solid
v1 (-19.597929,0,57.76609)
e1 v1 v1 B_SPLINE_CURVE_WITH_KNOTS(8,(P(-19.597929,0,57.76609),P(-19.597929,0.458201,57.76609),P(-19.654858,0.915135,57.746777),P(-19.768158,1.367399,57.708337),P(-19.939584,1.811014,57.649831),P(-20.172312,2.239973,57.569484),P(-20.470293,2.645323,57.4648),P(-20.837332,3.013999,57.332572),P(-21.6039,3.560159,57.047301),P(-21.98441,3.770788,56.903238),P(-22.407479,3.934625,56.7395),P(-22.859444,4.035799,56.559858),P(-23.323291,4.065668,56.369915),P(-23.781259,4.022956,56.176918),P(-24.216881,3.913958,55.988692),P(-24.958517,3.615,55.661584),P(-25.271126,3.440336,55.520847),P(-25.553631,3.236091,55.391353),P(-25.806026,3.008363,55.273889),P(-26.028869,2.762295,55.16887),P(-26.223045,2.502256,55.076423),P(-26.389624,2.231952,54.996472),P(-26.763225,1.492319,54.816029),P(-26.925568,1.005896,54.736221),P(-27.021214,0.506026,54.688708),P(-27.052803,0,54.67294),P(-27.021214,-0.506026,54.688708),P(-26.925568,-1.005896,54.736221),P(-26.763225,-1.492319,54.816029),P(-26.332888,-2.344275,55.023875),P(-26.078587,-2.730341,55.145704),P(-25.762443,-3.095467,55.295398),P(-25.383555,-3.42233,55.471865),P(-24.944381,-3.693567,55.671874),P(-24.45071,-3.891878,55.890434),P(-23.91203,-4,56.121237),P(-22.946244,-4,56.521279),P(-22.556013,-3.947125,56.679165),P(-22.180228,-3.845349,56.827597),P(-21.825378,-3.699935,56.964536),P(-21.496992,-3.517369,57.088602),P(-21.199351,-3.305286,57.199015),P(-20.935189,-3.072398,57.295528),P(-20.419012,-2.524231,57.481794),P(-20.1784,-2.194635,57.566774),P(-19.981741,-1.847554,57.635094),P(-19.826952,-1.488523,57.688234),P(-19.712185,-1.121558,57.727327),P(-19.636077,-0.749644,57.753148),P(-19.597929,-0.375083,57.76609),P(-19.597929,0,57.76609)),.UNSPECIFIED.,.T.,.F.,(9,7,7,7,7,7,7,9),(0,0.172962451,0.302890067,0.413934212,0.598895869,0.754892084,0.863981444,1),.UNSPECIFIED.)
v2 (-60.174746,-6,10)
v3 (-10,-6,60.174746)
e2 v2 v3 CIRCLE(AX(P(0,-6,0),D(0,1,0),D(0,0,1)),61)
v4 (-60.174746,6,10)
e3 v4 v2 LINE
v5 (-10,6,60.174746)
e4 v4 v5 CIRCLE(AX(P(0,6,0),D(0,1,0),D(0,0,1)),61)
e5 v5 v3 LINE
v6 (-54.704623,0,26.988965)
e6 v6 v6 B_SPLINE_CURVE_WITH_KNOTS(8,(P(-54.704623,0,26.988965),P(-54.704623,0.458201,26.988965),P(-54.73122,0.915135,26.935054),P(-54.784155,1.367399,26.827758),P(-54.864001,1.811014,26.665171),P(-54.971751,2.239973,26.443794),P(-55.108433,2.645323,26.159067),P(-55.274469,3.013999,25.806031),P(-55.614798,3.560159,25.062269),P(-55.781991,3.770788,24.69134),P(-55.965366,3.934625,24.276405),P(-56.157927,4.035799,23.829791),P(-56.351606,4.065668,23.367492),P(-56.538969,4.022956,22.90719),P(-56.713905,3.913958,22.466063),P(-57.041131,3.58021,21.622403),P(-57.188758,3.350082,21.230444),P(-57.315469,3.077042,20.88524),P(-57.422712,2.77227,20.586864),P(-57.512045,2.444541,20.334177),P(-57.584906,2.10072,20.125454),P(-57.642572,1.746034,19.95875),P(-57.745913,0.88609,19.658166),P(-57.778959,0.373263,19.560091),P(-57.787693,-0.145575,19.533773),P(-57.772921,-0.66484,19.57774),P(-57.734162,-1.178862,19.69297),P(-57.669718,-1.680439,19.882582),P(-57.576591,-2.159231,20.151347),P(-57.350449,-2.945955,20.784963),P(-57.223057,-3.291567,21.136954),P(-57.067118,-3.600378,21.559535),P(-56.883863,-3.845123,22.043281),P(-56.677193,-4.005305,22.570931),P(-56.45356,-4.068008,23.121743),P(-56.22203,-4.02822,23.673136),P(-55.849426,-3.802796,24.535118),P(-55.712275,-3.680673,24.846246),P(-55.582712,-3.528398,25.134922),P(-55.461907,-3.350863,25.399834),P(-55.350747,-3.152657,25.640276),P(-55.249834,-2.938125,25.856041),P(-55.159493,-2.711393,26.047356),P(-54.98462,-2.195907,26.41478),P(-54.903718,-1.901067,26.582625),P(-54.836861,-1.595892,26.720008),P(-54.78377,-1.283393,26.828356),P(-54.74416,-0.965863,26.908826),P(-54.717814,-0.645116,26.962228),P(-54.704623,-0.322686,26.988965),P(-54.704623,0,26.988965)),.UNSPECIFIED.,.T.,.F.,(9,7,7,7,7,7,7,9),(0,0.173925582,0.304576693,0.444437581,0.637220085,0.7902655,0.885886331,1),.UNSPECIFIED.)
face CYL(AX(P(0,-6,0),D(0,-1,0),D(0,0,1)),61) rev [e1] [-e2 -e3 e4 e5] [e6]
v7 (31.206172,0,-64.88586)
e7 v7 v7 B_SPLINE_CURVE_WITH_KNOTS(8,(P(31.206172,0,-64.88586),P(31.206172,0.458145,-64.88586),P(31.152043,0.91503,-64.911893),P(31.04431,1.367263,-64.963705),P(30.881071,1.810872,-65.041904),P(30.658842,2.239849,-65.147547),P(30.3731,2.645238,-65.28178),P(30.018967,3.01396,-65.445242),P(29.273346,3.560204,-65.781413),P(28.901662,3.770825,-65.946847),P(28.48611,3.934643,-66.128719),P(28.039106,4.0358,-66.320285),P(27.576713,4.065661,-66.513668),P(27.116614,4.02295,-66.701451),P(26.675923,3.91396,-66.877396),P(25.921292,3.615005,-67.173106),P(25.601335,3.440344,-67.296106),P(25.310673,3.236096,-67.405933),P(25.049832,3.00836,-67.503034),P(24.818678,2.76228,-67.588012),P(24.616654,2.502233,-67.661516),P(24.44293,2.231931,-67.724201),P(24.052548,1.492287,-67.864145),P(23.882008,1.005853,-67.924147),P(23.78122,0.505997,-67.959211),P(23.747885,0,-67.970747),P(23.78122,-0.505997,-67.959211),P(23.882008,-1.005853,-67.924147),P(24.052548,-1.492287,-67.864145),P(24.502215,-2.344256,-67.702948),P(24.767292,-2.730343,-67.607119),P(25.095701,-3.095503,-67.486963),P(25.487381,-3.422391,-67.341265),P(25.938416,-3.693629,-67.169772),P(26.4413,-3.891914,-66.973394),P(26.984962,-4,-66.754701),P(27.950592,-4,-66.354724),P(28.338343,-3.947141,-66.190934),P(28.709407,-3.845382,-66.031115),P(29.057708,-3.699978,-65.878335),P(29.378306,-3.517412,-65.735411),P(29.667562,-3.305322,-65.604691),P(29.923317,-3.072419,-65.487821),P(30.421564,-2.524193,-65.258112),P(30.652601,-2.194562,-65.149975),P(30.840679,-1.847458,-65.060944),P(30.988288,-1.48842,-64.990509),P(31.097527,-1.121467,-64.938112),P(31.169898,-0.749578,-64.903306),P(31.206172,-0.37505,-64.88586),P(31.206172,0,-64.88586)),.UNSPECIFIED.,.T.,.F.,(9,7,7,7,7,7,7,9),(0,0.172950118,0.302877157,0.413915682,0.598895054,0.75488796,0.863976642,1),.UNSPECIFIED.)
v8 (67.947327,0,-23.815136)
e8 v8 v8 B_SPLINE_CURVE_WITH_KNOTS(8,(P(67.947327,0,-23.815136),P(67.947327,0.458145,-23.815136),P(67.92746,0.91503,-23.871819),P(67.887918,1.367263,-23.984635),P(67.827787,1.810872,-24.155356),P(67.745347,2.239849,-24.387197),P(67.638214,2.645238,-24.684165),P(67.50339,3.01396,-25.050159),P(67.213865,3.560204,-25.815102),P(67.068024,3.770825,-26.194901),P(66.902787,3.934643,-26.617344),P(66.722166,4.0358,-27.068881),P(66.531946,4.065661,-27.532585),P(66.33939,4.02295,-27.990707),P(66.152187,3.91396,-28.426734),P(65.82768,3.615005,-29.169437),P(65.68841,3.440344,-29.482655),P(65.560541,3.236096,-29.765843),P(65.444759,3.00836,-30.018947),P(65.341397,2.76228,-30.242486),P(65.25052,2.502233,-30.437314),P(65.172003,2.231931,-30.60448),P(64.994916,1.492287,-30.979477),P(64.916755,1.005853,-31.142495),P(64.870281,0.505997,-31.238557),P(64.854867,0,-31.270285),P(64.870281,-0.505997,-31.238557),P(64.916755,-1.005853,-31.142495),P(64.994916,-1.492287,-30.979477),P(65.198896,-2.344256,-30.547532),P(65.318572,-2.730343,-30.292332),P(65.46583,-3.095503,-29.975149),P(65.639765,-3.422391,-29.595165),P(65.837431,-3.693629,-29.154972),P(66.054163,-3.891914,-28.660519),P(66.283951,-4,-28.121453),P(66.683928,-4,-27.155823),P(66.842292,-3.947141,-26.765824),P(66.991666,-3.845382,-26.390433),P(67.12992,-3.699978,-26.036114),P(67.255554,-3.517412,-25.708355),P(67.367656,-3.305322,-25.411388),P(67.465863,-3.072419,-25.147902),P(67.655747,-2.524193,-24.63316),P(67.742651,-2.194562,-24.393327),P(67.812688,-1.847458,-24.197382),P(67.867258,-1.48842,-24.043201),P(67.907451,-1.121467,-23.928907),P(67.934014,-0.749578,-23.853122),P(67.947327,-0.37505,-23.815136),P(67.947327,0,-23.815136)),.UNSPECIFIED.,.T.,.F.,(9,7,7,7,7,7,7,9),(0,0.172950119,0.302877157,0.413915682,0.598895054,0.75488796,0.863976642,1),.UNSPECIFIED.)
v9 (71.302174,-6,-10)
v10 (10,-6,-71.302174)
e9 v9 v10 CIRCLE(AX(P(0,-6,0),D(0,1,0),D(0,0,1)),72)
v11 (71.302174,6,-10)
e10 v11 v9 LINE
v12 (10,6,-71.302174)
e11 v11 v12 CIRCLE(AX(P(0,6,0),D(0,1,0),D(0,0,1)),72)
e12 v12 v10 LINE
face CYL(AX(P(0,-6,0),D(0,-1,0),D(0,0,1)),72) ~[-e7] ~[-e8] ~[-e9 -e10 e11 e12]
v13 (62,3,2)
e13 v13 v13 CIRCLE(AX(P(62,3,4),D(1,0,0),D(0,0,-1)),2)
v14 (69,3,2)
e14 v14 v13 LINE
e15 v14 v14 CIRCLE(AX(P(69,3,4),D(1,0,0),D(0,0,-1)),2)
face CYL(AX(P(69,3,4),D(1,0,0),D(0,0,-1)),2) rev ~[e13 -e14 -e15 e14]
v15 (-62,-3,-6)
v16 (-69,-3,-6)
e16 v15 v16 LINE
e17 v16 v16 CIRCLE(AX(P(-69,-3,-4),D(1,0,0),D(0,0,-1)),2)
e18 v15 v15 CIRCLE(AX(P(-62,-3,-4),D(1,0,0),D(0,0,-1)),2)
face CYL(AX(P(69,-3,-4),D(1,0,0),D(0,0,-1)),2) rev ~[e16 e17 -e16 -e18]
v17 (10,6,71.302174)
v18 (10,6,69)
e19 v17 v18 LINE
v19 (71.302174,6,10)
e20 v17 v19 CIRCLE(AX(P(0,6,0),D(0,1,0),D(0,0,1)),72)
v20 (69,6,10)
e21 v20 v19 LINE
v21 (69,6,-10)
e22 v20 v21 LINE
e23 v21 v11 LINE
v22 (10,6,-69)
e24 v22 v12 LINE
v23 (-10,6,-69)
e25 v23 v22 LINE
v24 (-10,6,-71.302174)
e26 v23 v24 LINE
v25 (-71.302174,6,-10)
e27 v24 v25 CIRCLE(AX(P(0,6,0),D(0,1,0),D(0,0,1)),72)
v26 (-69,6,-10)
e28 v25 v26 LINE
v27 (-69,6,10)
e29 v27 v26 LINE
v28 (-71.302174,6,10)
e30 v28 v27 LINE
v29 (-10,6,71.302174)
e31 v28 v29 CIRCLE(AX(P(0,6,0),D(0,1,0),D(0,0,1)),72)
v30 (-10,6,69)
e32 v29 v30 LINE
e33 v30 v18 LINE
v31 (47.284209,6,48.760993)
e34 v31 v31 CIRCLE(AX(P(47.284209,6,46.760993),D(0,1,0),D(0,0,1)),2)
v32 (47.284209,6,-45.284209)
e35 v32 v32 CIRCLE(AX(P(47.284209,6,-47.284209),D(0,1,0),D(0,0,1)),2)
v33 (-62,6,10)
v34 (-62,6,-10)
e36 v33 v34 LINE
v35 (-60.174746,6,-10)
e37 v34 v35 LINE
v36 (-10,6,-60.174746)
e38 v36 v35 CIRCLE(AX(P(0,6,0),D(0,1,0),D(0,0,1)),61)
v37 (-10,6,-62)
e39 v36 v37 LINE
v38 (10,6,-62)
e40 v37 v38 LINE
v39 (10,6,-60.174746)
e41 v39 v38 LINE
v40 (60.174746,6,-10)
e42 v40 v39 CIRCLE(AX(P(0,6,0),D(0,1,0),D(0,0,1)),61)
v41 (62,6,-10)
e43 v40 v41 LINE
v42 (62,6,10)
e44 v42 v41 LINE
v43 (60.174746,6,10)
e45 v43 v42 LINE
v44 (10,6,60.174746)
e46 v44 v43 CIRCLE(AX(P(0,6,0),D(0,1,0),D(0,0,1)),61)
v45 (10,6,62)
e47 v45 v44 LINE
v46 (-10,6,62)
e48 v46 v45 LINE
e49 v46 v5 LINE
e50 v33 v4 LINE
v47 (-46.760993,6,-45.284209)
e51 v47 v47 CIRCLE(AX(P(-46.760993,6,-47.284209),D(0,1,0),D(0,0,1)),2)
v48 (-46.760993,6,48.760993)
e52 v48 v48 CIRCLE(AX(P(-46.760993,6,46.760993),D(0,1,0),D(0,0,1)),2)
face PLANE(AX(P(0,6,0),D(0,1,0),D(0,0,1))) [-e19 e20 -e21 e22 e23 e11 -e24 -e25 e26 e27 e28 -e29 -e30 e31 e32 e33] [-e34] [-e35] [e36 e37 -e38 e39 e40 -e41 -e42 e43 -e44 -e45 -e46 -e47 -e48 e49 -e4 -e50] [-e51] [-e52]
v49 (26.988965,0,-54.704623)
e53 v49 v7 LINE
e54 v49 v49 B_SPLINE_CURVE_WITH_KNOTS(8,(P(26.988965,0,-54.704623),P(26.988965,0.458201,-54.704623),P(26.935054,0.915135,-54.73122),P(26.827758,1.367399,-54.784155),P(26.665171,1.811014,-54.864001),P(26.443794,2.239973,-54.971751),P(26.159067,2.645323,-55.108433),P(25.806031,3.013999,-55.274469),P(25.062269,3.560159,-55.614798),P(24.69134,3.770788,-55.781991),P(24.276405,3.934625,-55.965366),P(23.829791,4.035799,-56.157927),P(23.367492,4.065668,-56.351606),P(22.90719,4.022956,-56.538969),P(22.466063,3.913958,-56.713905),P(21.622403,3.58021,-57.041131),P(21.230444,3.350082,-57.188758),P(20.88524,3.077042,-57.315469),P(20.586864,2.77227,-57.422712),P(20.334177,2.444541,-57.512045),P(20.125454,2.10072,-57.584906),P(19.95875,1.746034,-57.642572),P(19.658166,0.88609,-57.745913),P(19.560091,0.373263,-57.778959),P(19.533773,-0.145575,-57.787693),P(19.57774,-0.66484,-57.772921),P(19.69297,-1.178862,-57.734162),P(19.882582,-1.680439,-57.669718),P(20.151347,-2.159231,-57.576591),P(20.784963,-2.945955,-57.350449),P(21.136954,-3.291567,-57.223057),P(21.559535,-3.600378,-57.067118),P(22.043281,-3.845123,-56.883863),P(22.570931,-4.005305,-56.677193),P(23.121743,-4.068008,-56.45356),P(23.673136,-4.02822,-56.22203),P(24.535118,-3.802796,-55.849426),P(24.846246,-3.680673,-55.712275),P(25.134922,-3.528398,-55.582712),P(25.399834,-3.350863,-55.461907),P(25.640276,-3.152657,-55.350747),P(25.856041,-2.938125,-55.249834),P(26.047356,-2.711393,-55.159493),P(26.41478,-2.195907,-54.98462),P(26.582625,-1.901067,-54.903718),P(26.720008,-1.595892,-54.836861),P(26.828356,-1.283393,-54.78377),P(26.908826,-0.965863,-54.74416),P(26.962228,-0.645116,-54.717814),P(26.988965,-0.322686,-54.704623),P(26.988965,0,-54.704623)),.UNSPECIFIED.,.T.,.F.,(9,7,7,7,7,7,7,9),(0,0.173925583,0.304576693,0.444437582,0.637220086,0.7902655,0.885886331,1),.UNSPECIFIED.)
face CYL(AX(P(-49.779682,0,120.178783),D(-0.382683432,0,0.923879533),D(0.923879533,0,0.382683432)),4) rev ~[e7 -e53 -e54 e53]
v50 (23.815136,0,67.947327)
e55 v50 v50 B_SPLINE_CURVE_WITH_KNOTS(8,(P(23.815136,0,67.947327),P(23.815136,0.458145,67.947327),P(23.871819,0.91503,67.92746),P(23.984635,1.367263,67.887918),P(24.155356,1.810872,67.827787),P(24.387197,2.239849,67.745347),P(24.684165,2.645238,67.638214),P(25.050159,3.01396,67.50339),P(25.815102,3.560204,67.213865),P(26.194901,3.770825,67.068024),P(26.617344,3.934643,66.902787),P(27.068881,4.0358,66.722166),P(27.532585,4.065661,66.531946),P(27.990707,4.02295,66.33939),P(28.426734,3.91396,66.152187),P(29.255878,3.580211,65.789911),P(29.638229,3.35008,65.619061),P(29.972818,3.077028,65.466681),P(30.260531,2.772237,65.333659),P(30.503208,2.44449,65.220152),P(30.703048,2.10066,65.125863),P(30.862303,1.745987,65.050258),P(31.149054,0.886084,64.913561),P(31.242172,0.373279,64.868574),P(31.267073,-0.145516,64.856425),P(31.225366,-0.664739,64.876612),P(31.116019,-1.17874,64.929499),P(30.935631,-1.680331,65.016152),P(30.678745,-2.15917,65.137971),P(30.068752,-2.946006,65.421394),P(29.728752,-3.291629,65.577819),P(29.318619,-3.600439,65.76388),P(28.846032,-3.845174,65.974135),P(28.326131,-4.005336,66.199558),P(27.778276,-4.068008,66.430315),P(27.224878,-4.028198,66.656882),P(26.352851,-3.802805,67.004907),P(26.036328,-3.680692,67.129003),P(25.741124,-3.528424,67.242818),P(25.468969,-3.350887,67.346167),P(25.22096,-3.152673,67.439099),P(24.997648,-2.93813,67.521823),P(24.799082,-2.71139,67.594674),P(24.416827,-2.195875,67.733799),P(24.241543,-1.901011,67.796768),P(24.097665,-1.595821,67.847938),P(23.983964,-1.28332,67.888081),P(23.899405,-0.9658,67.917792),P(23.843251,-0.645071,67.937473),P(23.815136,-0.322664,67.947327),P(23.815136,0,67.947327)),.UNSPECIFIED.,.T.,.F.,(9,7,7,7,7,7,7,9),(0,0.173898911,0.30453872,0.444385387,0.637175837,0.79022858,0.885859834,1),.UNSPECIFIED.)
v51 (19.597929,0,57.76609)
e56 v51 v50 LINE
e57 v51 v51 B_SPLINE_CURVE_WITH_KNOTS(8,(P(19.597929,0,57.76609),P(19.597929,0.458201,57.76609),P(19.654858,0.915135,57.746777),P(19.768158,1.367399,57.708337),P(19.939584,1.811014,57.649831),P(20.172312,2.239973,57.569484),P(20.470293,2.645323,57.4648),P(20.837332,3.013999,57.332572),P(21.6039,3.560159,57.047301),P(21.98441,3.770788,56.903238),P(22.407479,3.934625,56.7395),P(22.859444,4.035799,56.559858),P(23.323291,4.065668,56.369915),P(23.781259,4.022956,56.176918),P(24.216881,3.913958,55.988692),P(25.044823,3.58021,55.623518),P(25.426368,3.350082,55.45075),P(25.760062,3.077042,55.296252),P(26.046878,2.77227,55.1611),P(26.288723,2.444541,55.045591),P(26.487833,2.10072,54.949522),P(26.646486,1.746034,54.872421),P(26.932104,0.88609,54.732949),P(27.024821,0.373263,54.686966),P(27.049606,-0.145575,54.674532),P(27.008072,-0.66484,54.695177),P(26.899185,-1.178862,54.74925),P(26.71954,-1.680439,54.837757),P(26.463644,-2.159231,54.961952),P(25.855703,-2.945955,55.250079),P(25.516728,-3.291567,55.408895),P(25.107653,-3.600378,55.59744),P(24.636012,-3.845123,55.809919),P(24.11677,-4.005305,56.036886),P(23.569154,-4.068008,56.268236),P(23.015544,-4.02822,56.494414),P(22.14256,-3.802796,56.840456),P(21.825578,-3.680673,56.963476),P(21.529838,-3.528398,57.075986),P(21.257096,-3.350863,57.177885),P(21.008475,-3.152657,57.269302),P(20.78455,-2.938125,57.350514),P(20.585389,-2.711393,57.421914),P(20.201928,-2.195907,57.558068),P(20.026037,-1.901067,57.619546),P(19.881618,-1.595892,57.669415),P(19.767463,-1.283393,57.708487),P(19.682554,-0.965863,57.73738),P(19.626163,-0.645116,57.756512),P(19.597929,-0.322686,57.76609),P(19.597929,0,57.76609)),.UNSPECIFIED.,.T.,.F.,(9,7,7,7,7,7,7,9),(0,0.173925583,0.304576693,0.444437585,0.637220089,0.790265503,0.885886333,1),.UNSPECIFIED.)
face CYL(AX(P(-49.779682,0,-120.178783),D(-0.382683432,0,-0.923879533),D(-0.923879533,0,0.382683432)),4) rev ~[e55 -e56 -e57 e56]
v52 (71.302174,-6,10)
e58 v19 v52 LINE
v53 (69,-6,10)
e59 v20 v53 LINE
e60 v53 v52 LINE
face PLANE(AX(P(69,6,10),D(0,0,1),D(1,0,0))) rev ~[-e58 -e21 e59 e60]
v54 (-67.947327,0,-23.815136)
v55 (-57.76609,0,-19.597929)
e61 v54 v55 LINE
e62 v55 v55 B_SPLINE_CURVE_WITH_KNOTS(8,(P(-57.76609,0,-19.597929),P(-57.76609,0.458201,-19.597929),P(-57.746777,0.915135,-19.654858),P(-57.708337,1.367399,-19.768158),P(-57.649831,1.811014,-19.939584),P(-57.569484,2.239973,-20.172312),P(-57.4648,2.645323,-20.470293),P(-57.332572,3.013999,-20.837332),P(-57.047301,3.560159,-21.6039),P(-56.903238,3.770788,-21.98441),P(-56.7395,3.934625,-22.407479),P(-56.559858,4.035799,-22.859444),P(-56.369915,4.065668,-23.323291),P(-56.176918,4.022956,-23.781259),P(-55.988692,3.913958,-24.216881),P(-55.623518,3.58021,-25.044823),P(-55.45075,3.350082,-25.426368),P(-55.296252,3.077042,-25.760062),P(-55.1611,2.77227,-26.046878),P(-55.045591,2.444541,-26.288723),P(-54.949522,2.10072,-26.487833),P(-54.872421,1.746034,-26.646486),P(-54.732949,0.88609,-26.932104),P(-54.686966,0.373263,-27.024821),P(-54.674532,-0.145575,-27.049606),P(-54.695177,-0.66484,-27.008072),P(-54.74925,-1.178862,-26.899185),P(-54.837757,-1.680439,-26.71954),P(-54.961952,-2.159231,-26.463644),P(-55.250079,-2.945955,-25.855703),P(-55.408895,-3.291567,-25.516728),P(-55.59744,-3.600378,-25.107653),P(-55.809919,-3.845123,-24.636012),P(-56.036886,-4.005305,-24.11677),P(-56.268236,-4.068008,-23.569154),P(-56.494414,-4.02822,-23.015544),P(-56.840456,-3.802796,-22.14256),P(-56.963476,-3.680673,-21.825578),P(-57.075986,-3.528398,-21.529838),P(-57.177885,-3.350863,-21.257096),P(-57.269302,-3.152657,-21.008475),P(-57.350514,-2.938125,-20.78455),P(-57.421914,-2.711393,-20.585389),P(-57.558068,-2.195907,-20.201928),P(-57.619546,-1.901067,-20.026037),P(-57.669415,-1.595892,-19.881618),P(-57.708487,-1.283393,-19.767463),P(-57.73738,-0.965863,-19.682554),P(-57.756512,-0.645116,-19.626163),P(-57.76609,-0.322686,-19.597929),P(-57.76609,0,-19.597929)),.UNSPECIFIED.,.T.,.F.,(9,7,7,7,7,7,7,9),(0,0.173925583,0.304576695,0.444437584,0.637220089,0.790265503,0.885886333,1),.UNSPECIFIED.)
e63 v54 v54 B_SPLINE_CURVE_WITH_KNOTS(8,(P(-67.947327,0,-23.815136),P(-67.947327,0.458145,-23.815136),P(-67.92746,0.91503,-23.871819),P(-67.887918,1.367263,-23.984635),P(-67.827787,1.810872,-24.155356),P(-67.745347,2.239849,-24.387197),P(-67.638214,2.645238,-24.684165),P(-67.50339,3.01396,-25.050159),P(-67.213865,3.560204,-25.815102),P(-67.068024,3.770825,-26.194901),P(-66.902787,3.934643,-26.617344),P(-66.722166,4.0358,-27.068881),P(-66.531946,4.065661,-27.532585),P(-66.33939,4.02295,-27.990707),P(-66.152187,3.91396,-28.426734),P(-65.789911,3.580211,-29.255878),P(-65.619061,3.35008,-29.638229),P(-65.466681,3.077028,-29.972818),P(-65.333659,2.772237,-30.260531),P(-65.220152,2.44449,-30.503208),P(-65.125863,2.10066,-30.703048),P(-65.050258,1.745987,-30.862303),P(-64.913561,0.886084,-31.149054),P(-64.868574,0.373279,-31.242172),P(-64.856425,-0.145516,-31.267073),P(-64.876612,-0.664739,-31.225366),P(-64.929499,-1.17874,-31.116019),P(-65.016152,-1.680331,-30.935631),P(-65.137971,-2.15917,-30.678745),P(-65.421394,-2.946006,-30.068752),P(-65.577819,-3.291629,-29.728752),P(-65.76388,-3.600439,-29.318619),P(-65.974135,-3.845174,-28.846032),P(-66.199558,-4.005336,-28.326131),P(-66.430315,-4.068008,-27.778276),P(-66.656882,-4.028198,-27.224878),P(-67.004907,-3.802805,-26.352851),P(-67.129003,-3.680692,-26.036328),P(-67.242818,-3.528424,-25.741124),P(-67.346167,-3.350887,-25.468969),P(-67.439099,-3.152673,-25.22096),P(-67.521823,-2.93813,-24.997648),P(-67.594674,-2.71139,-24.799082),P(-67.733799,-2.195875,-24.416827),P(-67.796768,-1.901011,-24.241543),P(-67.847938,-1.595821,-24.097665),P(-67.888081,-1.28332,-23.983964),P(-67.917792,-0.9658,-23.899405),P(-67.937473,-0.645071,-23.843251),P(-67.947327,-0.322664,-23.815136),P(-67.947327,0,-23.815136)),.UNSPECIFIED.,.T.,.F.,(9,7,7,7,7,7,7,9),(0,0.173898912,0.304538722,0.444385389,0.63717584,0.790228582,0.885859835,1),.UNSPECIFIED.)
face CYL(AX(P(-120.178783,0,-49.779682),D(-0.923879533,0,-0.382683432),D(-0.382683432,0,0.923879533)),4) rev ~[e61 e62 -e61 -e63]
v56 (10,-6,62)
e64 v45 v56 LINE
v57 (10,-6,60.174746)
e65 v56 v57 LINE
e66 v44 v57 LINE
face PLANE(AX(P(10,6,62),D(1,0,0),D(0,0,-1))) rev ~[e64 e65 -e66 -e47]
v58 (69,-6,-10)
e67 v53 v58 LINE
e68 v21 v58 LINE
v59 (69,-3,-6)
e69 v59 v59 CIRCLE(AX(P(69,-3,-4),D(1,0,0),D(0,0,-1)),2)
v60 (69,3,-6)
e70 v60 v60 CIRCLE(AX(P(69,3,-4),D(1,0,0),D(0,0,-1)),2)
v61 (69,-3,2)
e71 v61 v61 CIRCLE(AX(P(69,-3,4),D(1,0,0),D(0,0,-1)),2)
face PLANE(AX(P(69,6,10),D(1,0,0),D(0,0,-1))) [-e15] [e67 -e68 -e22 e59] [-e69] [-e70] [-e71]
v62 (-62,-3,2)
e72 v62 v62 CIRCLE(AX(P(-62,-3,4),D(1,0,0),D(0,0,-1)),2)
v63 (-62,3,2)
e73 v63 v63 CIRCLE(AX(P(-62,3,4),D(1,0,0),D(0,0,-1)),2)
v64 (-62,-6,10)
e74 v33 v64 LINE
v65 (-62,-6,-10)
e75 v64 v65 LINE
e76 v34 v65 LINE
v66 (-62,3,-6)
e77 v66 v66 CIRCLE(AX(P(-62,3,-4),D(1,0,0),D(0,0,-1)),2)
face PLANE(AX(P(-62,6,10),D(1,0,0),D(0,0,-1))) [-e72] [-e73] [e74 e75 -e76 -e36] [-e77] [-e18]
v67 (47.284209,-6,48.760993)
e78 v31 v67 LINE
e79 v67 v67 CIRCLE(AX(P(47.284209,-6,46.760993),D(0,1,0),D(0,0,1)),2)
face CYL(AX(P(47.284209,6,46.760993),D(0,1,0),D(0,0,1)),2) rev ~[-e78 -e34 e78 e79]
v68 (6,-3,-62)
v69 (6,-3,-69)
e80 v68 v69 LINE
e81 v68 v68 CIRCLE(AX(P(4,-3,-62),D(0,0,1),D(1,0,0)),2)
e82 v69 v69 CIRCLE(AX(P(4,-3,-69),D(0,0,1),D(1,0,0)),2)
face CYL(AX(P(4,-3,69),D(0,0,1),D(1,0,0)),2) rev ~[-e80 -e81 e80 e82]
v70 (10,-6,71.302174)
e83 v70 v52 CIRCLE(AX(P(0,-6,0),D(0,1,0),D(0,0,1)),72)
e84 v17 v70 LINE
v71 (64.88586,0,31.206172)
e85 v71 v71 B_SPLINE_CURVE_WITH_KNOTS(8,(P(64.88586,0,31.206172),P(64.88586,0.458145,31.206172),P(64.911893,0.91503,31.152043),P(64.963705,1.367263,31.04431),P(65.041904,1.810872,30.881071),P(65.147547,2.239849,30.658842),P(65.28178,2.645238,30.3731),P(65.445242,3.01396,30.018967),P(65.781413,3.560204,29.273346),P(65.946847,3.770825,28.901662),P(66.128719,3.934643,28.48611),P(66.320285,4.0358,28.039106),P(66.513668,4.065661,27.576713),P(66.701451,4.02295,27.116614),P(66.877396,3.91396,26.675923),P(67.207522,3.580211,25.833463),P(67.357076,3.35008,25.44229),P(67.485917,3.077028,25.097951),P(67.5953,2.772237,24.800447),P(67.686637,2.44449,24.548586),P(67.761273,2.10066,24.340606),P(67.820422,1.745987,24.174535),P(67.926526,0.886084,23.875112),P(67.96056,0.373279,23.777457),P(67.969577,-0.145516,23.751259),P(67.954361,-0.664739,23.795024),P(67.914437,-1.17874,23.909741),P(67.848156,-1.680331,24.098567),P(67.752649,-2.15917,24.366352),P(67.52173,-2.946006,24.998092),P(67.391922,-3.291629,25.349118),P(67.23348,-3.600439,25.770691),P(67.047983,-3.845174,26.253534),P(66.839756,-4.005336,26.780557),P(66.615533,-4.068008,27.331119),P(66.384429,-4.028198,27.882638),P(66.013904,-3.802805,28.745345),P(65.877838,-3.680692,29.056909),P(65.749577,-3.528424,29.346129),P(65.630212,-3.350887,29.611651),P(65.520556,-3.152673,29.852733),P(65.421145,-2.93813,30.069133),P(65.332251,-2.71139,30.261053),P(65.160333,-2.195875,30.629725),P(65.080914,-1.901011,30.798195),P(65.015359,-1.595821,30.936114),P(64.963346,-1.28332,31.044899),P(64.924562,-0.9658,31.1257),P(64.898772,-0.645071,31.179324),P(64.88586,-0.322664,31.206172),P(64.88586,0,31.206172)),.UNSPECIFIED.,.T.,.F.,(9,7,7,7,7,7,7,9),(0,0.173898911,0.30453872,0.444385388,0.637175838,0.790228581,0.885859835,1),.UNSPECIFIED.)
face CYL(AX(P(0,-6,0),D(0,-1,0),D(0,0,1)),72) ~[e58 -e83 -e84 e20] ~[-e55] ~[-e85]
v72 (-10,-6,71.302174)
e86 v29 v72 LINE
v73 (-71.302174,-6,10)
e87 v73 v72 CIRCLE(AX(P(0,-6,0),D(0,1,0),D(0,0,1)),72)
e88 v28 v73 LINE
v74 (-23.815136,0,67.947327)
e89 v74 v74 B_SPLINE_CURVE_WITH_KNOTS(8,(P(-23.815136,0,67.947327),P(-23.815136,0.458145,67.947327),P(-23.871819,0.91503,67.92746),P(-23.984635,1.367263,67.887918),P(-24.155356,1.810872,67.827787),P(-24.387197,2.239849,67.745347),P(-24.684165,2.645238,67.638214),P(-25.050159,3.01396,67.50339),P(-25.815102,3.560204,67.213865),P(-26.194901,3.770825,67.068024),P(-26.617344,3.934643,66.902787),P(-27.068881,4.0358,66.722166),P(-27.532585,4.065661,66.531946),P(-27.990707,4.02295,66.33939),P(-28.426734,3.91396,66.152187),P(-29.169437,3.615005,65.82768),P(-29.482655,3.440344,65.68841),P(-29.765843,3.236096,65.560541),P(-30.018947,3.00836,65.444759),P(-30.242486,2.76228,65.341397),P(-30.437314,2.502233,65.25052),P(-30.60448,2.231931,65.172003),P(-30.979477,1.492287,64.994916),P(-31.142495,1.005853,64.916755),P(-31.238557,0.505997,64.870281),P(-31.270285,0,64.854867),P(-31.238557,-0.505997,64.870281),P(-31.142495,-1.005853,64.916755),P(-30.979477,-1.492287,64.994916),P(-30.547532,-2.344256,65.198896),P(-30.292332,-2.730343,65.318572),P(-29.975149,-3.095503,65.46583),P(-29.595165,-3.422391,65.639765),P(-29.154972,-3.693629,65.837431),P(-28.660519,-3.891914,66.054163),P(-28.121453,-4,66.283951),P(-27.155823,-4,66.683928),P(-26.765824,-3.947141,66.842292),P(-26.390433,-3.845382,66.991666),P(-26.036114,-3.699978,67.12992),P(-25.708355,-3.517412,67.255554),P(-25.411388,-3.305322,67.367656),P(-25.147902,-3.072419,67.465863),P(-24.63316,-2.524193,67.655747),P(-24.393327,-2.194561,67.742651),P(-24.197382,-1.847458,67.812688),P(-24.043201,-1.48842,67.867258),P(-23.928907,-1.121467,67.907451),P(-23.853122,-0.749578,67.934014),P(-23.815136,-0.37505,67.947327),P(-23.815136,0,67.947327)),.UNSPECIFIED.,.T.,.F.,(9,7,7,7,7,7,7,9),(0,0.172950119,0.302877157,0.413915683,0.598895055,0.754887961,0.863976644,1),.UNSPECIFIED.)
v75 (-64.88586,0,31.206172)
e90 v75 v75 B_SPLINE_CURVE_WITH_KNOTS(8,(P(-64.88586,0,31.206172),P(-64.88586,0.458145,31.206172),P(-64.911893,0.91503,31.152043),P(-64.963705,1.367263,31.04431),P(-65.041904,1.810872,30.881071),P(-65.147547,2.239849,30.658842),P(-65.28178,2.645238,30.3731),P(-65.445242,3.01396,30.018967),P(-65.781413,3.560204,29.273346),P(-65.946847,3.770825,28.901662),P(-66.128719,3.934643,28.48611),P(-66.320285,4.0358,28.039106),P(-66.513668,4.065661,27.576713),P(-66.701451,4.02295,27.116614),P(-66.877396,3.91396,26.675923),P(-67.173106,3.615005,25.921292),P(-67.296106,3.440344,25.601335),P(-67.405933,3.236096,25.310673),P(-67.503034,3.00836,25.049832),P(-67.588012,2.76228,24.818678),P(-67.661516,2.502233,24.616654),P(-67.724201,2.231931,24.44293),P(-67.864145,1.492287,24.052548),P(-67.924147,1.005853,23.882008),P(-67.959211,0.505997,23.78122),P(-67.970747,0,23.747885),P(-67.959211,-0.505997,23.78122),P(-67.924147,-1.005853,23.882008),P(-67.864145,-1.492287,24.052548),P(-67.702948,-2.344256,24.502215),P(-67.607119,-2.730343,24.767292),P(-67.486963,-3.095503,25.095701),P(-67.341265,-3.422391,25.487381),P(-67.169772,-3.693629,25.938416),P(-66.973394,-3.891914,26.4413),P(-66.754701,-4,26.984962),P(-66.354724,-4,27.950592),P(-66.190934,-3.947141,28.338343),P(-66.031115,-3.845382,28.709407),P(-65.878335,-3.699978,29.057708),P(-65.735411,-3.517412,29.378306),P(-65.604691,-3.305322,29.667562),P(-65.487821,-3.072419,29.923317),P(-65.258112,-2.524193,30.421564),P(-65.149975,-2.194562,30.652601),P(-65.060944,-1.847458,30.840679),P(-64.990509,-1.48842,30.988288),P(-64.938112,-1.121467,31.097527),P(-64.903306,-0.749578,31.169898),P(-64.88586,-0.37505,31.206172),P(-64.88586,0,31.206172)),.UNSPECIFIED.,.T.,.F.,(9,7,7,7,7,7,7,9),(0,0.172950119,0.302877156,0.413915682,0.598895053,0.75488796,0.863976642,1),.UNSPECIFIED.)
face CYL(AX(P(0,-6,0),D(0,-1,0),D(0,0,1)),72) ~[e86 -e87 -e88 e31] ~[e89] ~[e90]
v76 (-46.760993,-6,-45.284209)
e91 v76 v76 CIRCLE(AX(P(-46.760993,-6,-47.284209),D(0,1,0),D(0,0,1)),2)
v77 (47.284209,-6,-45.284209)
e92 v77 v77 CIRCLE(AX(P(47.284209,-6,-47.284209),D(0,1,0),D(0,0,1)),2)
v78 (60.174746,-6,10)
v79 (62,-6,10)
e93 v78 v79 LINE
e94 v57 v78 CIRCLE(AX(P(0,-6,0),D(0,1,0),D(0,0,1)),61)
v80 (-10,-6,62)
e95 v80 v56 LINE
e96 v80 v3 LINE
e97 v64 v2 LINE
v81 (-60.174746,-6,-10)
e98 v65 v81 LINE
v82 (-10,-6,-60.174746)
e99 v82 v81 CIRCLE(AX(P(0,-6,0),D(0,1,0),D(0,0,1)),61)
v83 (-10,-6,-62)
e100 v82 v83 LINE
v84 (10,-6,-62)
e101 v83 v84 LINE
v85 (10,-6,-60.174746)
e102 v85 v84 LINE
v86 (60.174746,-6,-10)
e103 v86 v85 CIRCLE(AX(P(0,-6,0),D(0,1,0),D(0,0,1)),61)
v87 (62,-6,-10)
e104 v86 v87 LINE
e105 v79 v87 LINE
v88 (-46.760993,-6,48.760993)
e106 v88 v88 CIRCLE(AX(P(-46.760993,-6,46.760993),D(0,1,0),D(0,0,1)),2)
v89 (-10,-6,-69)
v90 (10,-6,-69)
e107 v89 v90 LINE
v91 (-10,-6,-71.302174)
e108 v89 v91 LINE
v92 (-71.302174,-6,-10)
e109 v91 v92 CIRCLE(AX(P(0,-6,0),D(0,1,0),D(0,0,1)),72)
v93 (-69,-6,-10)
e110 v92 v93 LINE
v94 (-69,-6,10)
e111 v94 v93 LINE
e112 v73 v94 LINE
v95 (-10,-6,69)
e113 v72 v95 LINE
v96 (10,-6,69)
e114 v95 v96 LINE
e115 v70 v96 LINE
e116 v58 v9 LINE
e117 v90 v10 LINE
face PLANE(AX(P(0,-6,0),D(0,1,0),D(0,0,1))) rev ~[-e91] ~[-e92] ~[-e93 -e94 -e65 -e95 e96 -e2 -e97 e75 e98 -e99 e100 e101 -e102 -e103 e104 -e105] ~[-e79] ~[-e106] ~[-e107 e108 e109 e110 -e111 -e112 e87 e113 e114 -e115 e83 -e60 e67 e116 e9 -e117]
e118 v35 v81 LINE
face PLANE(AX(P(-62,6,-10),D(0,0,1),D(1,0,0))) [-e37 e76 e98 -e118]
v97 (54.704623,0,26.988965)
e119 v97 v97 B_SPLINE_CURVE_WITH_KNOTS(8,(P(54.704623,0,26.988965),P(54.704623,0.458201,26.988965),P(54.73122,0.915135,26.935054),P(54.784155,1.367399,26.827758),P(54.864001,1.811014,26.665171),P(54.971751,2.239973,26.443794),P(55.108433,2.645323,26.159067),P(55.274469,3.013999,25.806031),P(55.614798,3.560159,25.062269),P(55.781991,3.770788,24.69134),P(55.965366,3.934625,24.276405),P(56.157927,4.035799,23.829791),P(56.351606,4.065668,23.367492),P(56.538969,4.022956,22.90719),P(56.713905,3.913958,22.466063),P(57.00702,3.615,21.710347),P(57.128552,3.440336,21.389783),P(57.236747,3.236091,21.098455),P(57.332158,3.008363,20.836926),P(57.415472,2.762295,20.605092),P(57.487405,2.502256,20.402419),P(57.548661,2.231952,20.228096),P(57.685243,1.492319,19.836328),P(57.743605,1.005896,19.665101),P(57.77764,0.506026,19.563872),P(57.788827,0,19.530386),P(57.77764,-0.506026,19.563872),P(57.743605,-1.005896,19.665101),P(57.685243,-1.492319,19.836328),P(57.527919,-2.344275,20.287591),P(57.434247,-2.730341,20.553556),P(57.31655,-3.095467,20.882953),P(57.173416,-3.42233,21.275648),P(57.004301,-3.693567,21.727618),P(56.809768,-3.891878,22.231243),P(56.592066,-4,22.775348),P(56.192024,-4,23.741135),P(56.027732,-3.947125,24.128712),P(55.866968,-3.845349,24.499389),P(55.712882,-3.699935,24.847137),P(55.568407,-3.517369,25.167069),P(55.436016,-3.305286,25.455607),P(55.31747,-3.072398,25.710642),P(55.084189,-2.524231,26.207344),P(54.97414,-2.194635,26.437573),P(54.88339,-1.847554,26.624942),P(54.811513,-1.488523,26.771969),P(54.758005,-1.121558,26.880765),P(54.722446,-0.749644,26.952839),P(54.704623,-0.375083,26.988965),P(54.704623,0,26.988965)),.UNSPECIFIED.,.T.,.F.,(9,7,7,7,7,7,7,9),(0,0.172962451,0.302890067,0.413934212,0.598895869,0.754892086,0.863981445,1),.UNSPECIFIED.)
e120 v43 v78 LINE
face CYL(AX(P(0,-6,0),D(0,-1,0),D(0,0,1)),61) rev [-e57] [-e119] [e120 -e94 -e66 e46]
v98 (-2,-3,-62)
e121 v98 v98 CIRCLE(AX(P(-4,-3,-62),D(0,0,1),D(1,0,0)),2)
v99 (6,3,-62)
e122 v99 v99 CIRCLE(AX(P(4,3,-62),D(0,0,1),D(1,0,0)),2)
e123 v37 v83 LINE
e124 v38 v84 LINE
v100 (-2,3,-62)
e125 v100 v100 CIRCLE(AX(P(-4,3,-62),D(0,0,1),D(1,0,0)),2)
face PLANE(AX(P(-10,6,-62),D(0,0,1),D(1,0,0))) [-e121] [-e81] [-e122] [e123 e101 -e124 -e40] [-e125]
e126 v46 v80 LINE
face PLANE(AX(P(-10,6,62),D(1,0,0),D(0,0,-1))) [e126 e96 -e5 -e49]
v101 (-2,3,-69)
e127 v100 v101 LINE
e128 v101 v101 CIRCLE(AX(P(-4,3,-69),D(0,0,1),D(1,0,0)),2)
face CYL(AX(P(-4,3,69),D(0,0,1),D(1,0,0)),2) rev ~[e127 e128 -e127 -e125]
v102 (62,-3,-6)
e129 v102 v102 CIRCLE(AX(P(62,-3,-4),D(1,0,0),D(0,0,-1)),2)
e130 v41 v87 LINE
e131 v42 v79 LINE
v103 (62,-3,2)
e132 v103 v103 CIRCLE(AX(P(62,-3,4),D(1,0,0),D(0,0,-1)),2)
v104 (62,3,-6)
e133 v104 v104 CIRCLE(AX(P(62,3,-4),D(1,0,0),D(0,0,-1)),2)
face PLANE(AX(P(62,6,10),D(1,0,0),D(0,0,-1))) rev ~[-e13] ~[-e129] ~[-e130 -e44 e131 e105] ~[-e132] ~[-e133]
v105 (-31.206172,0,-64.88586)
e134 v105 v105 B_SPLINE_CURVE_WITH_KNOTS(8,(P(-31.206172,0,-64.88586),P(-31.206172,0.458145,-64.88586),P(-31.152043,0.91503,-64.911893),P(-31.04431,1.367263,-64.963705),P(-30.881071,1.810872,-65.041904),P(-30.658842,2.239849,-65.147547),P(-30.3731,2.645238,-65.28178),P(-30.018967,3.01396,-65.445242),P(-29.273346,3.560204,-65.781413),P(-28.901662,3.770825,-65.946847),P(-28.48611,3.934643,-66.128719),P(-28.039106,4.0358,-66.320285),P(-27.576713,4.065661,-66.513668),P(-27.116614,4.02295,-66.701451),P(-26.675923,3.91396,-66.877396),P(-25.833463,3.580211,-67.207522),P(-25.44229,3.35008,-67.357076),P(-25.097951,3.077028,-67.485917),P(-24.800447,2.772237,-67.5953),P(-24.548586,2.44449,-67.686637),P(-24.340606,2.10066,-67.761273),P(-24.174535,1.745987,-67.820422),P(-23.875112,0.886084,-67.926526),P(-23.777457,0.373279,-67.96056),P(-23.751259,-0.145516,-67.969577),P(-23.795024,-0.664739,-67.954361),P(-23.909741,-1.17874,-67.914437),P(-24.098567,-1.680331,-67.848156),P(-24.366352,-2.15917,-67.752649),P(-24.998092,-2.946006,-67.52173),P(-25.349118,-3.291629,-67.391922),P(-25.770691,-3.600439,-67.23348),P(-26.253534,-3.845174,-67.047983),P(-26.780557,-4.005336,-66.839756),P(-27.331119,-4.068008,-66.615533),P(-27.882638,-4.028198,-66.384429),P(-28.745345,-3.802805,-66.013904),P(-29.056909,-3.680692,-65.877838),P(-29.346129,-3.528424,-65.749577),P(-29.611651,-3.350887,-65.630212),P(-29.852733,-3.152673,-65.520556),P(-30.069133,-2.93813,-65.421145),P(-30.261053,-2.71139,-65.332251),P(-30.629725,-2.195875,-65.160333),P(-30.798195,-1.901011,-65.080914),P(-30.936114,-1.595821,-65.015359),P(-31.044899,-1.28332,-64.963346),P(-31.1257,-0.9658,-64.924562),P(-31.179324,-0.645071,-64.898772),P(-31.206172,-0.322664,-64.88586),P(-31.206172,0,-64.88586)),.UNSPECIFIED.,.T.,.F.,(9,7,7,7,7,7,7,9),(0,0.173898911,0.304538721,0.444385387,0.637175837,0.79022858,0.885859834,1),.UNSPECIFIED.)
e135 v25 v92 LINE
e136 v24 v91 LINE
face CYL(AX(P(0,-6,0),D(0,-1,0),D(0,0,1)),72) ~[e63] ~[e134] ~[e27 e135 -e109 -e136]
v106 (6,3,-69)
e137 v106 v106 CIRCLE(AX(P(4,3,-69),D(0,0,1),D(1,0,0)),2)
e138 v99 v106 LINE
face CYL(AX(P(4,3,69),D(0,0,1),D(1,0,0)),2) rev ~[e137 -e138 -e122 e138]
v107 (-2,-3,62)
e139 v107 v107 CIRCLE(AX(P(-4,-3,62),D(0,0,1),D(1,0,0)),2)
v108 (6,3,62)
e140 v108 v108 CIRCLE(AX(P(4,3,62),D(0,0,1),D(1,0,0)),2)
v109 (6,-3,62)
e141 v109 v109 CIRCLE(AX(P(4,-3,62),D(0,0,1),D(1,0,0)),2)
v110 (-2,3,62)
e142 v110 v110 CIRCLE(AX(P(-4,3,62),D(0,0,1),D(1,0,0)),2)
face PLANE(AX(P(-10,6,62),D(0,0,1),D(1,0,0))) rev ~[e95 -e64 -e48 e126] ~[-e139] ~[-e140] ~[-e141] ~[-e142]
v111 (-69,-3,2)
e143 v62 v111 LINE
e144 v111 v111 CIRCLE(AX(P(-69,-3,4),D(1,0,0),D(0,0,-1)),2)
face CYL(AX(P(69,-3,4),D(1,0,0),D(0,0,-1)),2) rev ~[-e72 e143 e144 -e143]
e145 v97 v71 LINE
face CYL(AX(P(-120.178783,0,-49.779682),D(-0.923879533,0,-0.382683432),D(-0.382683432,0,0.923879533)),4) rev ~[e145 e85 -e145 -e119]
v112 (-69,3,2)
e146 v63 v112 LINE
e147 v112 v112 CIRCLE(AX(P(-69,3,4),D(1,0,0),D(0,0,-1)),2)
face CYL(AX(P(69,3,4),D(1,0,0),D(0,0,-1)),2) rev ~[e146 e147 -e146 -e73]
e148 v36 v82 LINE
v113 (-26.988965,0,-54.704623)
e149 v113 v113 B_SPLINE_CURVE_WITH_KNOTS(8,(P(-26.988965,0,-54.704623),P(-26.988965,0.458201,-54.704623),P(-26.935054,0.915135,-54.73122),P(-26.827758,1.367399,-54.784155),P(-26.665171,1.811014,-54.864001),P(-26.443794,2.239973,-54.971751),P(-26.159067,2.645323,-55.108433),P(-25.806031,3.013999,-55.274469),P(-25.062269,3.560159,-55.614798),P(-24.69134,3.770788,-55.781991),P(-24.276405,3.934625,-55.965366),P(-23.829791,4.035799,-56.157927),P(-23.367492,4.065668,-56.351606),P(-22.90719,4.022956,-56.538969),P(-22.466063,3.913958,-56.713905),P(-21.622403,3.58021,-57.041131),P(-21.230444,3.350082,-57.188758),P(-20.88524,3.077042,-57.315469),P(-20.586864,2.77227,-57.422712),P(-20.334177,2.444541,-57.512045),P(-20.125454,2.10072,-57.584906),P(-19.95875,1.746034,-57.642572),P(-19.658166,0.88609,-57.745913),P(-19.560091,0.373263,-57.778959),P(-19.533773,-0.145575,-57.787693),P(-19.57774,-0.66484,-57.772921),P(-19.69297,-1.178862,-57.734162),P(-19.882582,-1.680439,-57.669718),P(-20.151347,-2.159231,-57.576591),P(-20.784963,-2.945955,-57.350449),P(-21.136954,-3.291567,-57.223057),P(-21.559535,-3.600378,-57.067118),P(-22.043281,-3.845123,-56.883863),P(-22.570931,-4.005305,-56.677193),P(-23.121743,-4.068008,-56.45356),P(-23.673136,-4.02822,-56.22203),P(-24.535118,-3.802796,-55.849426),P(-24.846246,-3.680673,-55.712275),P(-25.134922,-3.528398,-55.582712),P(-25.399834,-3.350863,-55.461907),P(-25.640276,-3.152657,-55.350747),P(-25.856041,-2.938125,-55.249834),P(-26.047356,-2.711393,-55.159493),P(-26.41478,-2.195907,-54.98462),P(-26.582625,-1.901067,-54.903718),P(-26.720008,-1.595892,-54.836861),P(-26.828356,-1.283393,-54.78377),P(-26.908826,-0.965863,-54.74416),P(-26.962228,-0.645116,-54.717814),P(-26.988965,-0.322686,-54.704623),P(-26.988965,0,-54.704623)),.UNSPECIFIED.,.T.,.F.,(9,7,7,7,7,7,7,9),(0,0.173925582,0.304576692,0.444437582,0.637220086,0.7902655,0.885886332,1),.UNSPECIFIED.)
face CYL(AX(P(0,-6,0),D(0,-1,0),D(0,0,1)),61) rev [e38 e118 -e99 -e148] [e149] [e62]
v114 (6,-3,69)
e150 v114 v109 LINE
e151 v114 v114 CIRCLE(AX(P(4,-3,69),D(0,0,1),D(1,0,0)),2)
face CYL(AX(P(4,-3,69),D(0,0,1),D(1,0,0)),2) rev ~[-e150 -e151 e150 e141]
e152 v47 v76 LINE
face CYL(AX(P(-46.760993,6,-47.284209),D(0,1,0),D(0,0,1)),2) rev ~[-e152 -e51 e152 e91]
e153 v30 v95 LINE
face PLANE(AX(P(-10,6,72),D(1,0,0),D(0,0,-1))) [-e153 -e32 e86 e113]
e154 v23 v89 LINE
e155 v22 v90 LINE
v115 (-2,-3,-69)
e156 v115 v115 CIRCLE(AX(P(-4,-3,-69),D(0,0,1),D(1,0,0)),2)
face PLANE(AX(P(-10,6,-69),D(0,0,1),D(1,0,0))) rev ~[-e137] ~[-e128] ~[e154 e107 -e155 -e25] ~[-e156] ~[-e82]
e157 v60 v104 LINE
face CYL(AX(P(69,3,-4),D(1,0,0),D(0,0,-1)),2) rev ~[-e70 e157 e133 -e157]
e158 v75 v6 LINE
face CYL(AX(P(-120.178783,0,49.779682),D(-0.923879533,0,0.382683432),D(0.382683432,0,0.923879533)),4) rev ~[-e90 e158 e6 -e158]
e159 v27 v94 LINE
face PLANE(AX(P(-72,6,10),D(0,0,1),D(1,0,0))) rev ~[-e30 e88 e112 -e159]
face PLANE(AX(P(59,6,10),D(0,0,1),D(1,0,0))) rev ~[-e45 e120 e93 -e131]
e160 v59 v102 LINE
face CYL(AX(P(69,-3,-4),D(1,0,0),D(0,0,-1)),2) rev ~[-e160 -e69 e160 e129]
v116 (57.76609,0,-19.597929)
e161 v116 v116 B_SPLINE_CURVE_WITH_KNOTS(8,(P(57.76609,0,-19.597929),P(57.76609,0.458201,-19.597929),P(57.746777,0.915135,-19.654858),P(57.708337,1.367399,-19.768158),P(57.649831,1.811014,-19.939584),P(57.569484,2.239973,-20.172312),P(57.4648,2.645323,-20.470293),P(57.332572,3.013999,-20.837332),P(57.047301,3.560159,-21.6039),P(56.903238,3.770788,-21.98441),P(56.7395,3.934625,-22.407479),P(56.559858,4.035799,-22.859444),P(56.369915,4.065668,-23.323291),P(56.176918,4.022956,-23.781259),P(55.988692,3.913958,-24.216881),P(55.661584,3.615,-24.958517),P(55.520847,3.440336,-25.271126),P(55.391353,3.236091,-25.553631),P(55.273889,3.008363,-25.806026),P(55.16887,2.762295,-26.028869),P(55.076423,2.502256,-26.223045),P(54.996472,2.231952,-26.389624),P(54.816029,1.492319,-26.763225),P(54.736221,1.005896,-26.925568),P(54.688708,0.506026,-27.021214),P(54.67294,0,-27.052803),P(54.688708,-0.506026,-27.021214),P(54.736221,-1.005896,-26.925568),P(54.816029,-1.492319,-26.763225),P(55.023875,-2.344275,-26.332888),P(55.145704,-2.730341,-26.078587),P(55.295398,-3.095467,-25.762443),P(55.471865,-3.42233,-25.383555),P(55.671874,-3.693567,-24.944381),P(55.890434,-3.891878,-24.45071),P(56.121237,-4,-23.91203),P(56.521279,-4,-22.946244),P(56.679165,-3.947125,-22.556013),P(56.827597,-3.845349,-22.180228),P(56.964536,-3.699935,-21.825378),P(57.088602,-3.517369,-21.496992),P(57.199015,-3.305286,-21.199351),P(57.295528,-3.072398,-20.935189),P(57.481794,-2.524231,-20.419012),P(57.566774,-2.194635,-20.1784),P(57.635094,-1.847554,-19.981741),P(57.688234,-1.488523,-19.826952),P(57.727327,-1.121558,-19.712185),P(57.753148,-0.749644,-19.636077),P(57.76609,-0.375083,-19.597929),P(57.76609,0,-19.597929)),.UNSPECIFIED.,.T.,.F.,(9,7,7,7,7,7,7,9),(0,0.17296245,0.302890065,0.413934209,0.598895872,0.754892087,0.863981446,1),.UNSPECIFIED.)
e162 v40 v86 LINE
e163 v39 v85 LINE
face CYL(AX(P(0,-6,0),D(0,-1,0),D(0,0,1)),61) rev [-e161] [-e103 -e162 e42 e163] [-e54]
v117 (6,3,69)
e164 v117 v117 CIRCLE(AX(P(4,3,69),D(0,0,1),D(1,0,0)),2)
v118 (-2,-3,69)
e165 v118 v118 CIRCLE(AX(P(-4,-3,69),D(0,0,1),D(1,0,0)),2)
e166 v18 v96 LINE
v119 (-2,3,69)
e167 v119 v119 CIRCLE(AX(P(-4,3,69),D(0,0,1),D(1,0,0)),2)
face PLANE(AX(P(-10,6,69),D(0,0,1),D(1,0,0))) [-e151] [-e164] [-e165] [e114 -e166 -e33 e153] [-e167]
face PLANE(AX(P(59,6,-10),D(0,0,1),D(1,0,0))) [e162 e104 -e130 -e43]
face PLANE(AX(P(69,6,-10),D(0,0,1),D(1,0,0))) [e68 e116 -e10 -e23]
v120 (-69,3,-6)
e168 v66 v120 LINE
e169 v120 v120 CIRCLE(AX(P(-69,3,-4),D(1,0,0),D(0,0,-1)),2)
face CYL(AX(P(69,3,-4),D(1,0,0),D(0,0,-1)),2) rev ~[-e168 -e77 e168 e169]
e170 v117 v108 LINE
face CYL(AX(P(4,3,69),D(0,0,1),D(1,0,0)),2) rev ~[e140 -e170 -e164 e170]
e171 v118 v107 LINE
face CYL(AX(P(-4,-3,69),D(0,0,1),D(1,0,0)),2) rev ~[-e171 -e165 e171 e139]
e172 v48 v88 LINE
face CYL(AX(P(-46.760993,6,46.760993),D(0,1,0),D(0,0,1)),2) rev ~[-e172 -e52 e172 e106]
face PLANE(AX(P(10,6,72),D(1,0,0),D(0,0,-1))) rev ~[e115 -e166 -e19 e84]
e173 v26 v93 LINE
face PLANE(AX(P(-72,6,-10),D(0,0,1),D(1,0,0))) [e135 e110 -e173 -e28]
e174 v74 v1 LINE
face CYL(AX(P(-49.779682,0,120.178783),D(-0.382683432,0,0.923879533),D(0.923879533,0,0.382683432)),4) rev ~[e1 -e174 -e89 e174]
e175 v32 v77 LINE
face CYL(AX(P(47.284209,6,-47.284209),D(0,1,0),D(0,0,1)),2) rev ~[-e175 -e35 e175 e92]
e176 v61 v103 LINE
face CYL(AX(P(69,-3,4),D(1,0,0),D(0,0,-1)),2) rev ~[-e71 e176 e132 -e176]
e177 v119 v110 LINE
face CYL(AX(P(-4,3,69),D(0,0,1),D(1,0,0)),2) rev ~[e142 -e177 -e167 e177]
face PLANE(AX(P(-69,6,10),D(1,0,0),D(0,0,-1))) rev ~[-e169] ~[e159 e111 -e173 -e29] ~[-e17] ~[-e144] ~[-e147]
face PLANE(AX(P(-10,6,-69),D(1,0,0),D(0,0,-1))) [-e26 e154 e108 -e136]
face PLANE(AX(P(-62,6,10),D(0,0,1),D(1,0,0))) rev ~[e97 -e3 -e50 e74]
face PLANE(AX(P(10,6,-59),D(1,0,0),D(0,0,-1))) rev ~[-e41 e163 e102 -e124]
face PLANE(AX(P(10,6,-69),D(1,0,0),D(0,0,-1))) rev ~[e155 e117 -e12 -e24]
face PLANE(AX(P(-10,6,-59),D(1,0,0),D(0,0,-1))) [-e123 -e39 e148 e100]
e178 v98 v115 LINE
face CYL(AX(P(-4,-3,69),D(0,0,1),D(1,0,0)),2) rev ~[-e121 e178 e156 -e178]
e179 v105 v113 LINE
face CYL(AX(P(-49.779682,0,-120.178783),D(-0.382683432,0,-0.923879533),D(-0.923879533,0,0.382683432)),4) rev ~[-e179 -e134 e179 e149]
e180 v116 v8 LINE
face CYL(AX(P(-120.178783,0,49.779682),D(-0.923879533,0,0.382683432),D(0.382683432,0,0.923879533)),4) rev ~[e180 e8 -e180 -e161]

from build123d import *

# Parameters (mm, degrees)
BOSS_EXTRUDE1_DEPTH      = 6
BOSS_EXTRUDE1_DEPTH_BACK = 6
SKETCH1_R                = 72
SKETCH1_R_2              = 61
SKETCH5_R                = 2
CUT_EXTRUDE3_DEPTH       = 103.528044944
SKETCH6_W                = 20
SKETCH6_H                = 3
SKETCH6_W_2              = 3
SKETCH6_H_2              = 20
CUT_EXTRUDE4_DEPTH       = 103.528044944
SKETCH12_R               = 2
CUT_EXTRUDE8_DEPTH       = 158.495079274
SKETCH13_W               = 20
SKETCH13_H               = 3
SKETCH13_W_2             = 3
SKETCH13_H_2             = 20
CUT_EXTRUDE9_DEPTH       = 102.54801821
SKETCH15_R               = 4
CUT_EXTRUDE10_DEPTH      = 227.8695061
SKETCH16_R               = 4
CUT_EXTRUDE11_DEPTH      = 227.869506244
SKETCH17_R               = 4
CUT_EXTRUDE12_DEPTH      = 227.869506244
SKETCH18_R               = 4
CUT_EXTRUDE13_DEPTH      = 227.869506244
SKETCH19_R               = 2
CUT_EXTRUDE14_DEPTH      = 158.495079412


with BuildPart() as part:
    # Sketch1 → Boss-Extrude1 (new, two sides: drawn at the far end of the back side and taken through both)
    with BuildSketch(Plane(origin=(0, 0, 0), x_dir=(1, 0, 0), z_dir=(0, 1, 0)).offset(-BOSS_EXTRUDE1_DEPTH_BACK)):
        Circle(SKETCH1_R)
        Circle(SKETCH1_R_2, mode=Mode.SUBTRACT)
    extrude(amount=BOSS_EXTRUDE1_DEPTH + BOSS_EXTRUDE1_DEPTH_BACK)

    # Sketch5 → Cut-Extrude3 (cut, through all)
    with BuildSketch(Plane(origin=(0, 6, 0), x_dir=(1, 0, 0), z_dir=(0, 1, 0))):
        with Locations((47.284209037, 47.284209037)):
            Circle(SKETCH5_R)
        with Locations((47.284209037, -46.760992861)):
            Circle(SKETCH5_R)
        with Locations((-46.760992861, -46.760992861)):
            Circle(SKETCH5_R)
        with Locations((-46.760992861, 47.284209037)):
            Circle(SKETCH5_R)
    extrude(amount=-CUT_EXTRUDE3_DEPTH, mode=Mode.SUBTRACT)

    # Sketch6 → Cut-Extrude4 (cut, through all)
    with BuildSketch(Plane(origin=(0, 6, 0), x_dir=(1, 0, 0), z_dir=(0, 1, 0))):
        with Locations((0, -70.5)):
            Rectangle(SKETCH6_W, SKETCH6_H)
        with Locations((0, 70.5)):
            Rectangle(SKETCH6_W, SKETCH6_H)
        with Locations((70.5, 0)):
            Rectangle(SKETCH6_W_2, SKETCH6_H_2)
        with Locations((-70.5, 0)):
            Rectangle(SKETCH6_W_2, SKETCH6_H_2)
    extrude(amount=-CUT_EXTRUDE4_DEPTH, mode=Mode.SUBTRACT)

    # Sketch12 → Cut-Extrude8 (cut, through all)
    with BuildSketch(Plane.XY.offset(69)):
        with Locations((4, 3)):
            Circle(SKETCH12_R)
        with Locations((-4, 3)):
            Circle(SKETCH12_R)
        with Locations((4, -3)):
            Circle(SKETCH12_R)
        with Locations((-4, -3)):
            Circle(SKETCH12_R)
    extrude(amount=-CUT_EXTRUDE8_DEPTH, mode=Mode.SUBTRACT)

    # Sketch13 → Cut-Extrude9 (cut, through all)
    with BuildSketch(Plane(origin=(0, 6, 0), x_dir=(1, 0, 0), z_dir=(0, 1, 0))):
        with Locations((0, -60.5)):
            Rectangle(SKETCH13_W, SKETCH13_H)
        with Locations((0, 60.5)):
            Rectangle(SKETCH13_W, SKETCH13_H)
        with Locations((-60.5, 0)):
            Rectangle(SKETCH13_W_2, SKETCH13_H_2)
        with Locations((60.5, 0)):
            Rectangle(SKETCH13_W_2, SKETCH13_H_2)
    extrude(amount=-CUT_EXTRUDE9_DEPTH, mode=Mode.SUBTRACT)

    # Sketch15 → Cut-Extrude10 (cut, through all)
    with BuildSketch(Plane(origin=(-49.779681973, 6, -120.17878335), x_dir=(-0.9238795325112865, 0, 0.3826834323650906), z_dir=(-0.3826834323650906, 0, -0.9238795325112865))):
        with Locations((0, -6)):
            Circle(SKETCH15_R)
    extrude(amount=-CUT_EXTRUDE10_DEPTH, mode=Mode.SUBTRACT)

    # Sketch16 → Cut-Extrude11 (cut, through all)
    with BuildSketch(Plane(origin=(-120.17878335, 6, -49.779681973), x_dir=(-0.3826834323650807, 0, 0.9238795325112905), z_dir=(-0.9238795325112905, 0, -0.3826834323650807))):
        with Locations((0, -6)):
            Circle(SKETCH16_R)
    extrude(amount=-CUT_EXTRUDE11_DEPTH, mode=Mode.SUBTRACT)

    # Sketch17 → Cut-Extrude12 (cut, through all)
    with BuildSketch(Plane(origin=(-120.17878335, 6, 49.779681973), x_dir=(0.3826834323650807, 0, 0.9238795325112905), z_dir=(-0.9238795325112905, 0, 0.3826834323650807))):
        with Locations((0, -6)):
            Circle(SKETCH17_R)
    extrude(amount=-CUT_EXTRUDE12_DEPTH, mode=Mode.SUBTRACT)

    # Sketch18 → Cut-Extrude13 (cut, through all)
    with BuildSketch(Plane(origin=(-49.779681973, 6, 120.17878335), x_dir=(0.9238795325112865, 0, 0.3826834323650906), z_dir=(-0.3826834323650906, 0, 0.9238795325112865))):
        with Locations((0, -6)):
            Circle(SKETCH18_R)
    extrude(amount=-CUT_EXTRUDE13_DEPTH, mode=Mode.SUBTRACT)

    # Sketch19 → Cut-Extrude14 (cut, through all)
    with BuildSketch(Plane(origin=(69, 0, 0), x_dir=(0, 0, -1), z_dir=(1, 0, 0))):
        with Locations((4, 3)):
            Circle(SKETCH19_R)
        with Locations((-4, 3)):
            Circle(SKETCH19_R)
        with Locations((4, -3)):
            Circle(SKETCH19_R)
        with Locations((-4, -3)):
            Circle(SKETCH19_R)
    extrude(amount=-CUT_EXTRUDE14_DEPTH, mode=Mode.SUBTRACT)


solid = part.part
